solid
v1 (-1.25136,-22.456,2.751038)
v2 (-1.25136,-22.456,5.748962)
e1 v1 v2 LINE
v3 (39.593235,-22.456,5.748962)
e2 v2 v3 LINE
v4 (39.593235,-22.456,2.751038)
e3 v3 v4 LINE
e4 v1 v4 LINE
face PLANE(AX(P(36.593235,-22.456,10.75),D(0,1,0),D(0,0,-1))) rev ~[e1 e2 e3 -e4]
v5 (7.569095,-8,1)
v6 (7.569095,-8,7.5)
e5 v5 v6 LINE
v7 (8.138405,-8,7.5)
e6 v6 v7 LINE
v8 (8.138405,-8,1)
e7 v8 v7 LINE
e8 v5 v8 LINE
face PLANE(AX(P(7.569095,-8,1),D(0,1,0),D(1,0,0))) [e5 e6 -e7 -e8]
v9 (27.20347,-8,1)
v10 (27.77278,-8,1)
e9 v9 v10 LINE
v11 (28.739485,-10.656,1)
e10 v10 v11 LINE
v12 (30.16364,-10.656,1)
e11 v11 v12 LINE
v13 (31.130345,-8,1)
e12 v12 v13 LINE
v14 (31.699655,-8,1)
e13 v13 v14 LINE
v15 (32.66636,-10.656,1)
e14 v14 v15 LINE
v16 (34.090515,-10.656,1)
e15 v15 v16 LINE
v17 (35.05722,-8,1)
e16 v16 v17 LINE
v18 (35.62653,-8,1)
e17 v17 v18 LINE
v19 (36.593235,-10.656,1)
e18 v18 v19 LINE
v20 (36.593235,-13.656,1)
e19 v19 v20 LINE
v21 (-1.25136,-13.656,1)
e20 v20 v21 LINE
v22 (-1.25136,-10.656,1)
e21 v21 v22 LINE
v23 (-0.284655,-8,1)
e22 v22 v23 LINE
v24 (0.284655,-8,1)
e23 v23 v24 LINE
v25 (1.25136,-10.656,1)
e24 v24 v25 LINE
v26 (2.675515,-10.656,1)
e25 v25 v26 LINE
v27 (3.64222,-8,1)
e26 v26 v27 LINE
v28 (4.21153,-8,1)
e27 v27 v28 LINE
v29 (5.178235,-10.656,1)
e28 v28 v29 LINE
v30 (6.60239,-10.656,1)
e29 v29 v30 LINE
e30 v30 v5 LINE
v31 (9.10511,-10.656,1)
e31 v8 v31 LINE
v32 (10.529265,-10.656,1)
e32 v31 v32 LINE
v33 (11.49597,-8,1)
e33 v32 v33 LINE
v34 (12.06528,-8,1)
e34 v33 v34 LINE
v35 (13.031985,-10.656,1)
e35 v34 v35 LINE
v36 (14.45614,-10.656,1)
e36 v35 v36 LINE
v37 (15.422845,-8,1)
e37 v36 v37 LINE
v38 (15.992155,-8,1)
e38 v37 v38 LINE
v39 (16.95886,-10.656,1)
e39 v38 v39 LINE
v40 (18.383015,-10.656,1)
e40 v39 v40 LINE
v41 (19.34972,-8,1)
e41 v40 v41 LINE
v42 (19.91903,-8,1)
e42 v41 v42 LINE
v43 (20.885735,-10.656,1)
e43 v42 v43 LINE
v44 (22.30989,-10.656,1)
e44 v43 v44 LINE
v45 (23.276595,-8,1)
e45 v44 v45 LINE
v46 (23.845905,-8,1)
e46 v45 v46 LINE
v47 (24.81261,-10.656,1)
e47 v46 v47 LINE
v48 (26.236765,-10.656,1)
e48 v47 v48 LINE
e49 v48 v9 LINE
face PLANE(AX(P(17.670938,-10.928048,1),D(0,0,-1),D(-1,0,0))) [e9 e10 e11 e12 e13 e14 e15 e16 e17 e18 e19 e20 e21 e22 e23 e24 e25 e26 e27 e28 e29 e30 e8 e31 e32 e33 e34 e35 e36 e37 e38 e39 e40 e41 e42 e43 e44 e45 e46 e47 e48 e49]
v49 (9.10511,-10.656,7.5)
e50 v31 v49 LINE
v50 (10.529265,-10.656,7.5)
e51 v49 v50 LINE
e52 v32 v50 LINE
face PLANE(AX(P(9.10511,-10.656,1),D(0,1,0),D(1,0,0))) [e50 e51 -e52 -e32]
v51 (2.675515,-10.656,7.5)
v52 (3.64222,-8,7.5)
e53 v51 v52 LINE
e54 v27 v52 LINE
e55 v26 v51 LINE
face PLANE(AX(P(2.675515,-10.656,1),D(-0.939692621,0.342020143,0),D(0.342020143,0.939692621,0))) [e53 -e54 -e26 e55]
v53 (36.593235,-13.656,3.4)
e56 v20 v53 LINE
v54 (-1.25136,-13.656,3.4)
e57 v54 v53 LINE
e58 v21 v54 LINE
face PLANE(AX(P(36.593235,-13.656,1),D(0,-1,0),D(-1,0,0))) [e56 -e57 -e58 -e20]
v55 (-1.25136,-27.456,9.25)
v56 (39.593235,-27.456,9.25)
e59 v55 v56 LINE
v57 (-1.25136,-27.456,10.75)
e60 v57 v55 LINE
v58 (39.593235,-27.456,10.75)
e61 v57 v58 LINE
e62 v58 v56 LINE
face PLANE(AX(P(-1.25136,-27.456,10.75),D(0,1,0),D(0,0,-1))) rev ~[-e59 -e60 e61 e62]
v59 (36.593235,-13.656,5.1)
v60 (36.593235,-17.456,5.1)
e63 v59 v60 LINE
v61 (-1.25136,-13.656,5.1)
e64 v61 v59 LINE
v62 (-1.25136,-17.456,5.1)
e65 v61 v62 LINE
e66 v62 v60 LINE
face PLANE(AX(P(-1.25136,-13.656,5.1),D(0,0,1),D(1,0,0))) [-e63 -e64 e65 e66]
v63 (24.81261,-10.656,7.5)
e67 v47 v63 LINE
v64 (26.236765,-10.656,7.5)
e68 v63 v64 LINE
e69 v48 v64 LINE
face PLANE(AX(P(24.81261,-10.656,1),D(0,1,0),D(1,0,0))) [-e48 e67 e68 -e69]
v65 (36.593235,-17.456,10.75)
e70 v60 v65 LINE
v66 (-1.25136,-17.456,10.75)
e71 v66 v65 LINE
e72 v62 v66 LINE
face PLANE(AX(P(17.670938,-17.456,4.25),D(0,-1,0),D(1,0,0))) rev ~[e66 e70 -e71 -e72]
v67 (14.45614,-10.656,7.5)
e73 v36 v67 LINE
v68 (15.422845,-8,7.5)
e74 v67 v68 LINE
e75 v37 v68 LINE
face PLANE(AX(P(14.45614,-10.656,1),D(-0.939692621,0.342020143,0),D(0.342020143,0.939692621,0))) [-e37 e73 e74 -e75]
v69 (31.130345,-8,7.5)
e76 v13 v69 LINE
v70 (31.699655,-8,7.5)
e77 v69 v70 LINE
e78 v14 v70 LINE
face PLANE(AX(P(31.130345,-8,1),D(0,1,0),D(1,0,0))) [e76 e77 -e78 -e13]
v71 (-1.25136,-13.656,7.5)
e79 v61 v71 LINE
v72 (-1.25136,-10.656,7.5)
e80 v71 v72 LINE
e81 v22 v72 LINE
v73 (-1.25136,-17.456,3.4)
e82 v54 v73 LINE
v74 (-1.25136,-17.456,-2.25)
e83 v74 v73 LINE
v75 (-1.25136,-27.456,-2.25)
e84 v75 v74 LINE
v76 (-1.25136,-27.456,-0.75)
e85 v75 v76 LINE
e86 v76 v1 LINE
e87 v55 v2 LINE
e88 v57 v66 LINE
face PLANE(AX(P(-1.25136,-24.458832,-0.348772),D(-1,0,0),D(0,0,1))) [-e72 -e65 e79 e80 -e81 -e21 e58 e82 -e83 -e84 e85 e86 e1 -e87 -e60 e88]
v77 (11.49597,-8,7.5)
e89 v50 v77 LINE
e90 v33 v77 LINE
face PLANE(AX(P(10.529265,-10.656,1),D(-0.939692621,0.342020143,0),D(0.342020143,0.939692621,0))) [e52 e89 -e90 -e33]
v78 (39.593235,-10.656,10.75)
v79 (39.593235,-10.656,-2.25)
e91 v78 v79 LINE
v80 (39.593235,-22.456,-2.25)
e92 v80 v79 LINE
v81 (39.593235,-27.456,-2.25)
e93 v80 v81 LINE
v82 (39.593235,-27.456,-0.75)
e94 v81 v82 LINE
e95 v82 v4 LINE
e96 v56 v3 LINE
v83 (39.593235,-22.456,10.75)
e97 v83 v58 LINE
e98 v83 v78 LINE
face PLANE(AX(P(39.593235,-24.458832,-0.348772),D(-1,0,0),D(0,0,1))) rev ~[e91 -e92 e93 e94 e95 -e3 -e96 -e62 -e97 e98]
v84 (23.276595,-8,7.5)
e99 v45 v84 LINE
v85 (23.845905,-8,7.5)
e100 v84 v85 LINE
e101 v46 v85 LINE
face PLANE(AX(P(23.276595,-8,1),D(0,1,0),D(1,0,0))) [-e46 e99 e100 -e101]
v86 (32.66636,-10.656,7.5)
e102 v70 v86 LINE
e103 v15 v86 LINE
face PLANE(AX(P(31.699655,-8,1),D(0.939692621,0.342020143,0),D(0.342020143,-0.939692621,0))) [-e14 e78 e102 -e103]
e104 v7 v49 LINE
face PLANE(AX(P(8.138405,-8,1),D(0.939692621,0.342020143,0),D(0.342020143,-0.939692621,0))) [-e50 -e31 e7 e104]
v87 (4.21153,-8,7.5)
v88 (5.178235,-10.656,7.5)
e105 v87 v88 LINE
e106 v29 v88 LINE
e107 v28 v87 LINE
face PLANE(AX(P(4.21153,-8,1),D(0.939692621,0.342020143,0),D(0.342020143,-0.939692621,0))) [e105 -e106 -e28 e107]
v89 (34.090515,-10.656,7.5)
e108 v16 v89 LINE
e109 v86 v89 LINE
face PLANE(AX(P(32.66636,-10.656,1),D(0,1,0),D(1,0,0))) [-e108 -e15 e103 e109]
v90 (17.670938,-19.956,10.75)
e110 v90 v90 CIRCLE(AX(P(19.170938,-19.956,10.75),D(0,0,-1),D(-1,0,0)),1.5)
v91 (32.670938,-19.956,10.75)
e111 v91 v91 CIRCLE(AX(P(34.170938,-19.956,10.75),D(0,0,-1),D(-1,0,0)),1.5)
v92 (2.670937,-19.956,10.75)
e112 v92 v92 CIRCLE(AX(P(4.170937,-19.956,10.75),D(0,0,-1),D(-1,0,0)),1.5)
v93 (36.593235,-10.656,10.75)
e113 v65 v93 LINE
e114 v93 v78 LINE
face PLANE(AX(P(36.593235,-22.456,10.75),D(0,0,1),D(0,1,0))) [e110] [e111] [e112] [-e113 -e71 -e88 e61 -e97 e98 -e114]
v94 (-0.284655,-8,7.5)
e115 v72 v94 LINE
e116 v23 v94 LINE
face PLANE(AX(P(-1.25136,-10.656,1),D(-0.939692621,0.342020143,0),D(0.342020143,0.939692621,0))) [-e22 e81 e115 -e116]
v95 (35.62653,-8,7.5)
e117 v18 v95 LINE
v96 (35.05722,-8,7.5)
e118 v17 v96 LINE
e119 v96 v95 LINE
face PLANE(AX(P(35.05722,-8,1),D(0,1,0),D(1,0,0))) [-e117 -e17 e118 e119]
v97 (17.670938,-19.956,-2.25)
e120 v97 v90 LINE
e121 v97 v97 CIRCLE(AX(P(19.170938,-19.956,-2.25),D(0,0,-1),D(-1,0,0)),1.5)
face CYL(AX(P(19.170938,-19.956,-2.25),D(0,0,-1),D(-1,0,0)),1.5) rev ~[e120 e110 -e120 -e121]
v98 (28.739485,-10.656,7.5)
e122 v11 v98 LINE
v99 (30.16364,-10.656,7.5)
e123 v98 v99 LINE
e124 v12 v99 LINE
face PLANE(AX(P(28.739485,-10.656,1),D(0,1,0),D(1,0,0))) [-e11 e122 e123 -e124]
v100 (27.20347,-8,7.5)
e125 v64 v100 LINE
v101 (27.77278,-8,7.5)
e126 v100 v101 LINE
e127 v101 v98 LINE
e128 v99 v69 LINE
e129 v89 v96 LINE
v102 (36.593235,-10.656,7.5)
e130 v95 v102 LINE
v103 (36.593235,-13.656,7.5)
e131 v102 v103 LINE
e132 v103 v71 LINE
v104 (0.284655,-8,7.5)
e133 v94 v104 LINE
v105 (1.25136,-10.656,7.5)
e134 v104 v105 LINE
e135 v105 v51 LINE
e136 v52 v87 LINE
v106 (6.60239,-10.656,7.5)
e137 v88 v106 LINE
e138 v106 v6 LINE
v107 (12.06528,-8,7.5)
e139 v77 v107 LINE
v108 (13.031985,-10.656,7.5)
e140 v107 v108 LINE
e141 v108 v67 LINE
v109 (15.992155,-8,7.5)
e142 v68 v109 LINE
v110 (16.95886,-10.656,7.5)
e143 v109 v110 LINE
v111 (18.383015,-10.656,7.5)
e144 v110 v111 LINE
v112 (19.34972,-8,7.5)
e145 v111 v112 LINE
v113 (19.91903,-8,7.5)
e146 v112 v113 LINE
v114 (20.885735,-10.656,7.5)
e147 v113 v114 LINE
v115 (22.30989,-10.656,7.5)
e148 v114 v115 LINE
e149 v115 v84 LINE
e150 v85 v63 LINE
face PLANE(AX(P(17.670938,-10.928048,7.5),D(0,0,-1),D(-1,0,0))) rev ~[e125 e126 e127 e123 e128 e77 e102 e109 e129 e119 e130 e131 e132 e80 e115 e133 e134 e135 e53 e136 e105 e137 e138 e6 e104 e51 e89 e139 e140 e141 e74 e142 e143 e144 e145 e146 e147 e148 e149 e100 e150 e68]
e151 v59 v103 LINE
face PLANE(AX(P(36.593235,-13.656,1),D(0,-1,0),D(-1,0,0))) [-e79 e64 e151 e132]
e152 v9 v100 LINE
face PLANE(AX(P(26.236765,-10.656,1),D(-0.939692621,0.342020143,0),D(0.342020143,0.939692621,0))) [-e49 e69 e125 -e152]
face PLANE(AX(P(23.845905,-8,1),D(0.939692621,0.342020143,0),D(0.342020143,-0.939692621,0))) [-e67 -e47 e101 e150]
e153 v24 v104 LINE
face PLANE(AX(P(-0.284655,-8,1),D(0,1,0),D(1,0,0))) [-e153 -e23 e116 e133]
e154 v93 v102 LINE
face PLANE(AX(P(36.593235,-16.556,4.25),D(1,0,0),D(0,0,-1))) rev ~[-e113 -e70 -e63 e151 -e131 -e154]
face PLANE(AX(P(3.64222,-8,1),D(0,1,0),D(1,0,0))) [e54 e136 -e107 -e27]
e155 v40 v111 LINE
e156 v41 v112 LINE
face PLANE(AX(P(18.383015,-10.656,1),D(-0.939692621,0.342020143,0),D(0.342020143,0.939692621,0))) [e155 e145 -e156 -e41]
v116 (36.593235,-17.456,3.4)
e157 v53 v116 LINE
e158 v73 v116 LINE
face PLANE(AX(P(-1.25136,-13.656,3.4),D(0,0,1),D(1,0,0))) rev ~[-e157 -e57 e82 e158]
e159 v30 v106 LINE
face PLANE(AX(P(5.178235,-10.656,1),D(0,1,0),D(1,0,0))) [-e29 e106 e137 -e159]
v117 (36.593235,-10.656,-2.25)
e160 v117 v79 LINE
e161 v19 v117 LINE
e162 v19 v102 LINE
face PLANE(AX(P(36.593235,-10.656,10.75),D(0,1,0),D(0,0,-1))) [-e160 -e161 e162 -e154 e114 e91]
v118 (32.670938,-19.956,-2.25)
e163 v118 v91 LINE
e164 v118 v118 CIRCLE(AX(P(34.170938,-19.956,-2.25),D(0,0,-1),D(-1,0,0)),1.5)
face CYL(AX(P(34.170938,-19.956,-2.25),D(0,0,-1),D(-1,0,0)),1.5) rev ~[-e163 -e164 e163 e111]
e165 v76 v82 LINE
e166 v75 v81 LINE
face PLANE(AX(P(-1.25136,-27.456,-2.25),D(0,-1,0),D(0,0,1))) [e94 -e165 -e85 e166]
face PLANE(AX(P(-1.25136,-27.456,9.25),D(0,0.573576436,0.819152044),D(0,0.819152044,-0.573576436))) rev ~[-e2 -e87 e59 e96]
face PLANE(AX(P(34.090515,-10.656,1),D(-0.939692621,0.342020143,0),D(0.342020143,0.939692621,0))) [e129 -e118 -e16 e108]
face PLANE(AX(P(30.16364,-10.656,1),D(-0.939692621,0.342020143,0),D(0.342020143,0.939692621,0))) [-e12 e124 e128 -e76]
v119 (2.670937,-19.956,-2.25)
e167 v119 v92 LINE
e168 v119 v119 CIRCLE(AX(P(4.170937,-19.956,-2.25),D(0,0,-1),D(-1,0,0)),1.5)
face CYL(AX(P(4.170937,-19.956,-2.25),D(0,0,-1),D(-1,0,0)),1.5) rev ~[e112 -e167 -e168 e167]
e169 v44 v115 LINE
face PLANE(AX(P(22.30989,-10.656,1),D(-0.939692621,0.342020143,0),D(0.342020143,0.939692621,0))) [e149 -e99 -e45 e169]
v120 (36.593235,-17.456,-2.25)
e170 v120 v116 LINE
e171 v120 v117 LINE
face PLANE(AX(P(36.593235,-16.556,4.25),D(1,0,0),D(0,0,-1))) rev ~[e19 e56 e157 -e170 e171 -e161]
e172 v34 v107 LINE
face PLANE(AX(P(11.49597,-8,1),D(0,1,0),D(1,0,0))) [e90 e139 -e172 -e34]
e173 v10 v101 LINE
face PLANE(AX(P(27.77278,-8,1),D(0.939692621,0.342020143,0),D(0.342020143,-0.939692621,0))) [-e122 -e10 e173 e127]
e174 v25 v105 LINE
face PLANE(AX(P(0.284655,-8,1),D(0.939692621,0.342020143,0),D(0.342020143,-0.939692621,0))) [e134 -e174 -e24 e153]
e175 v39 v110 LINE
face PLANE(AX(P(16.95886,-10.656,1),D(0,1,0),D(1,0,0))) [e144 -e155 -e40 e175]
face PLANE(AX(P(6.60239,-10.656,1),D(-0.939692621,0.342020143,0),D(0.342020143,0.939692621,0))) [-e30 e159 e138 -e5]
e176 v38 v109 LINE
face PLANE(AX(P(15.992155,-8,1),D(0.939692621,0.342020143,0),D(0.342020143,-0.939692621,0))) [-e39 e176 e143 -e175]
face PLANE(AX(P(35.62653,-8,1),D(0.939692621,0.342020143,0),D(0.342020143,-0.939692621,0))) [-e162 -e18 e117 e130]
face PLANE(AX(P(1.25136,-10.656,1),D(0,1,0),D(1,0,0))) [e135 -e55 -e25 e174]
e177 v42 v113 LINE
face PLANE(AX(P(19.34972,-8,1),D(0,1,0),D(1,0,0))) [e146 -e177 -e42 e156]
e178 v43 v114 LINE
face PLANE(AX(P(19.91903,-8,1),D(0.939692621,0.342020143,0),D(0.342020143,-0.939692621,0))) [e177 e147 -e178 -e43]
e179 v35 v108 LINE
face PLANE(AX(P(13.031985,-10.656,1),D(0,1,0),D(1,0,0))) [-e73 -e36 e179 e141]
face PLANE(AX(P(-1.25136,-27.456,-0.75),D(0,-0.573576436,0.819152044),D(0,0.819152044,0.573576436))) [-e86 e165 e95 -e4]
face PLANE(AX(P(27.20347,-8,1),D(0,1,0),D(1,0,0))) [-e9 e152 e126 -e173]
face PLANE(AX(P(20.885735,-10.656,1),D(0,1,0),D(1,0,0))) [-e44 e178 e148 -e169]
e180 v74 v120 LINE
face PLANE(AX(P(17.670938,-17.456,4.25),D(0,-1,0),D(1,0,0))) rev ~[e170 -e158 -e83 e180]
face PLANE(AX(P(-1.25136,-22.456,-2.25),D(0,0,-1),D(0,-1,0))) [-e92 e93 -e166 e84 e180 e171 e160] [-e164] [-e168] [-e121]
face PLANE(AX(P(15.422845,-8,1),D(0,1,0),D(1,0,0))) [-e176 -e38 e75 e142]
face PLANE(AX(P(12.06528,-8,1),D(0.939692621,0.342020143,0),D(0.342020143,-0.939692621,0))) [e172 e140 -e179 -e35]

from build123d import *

# Parameters (mm, degrees)
ESQUISSE1_R             = 2.5
BOSS_EXTRU_1_DEPTH      = 1
BOSS_EXTRU_2_DEPTH      = 6.5
ESQUISSE3_R             = 14.137419556
ENL_V_MAT_EXTRU_1_DEPTH = 1
ESQUISSE4_W             = 37.844594902
ESQUISSE4_H             = 1.7
BOSS_EXTRU_3_DEPTH      = 3.8
ESQUISSE5_W             = 37.844594902
ESQUISSE5_H             = 13
BOSS_EXTRU_4_DEPTH      = 5
ESQUISSE6_W             = 13
ESQUISSE6_H             = 11.8
BOSS_EXTRU_5_DEPTH      = 3
BOSS_EXTRU_6_DEPTH      = 40.844595
ESQUISSE8_R             = 1.5
ENL_V_MAT_EXTRU_2_DEPTH = 14


with BuildPart() as part:
    # Esquisse1 → Boss.-Extru.1 (new body)
    with BuildSketch(Plane.XY):
        with BuildLine():
            ThreePointArc((-2.797532396, 7.349311298), (-3.009326841, 7.265157674), (-3.218593728, 7.174901984))
            ThreePointArc((-3.218593728, 7.174901984), (-3.518823735, 7.161602241), (-3.746621491, 7.357620412))
            ThreePointArc((-3.746621491, 7.357620412), (-4.480939546, 8.300763177), (-5.498824516, 8.927382256))
            ThreePointArc((-5.498824516, 8.927382256), (-5.825153893, 8.717958885), (-6.143516706, 8.496612707))
            ThreePointArc((-6.143516706, 8.496612707), (-5.954123878, 7.316412877), (-5.363784935, 6.277066345))
            ThreePointArc((-5.363784935, 6.277066345), (-5.269862186, 5.991595754), (-5.397042596, 5.719308987))
            ThreePointArc((-5.397042596, 5.719308987), (-5.560510951, 5.560510951), (-5.719308987, 5.397042596))
            ThreePointArc((-5.719308987, 5.397042596), (-5.991595754, 5.269862186), (-6.277066345, 5.363784935))
            ThreePointArc((-6.277066345, 5.363784935), (-7.316412877, 5.954123878), (-8.496612707, 6.143516706))
            ThreePointArc((-8.496612707, 6.143516706), (-8.717958885, 5.825153893), (-8.927382256, 5.498824516))
            ThreePointArc((-8.927382256, 5.498824516), (-8.300763177, 4.480939546), (-7.357620412, 3.746621491))
            ThreePointArc((-7.357620412, 3.746621491), (-7.161602241, 3.518823735), (-7.174901984, 3.218593728))
            ThreePointArc((-7.174901984, 3.218593728), (-7.265157674, 3.009326841), (-7.349311298, 2.797532396))
            ThreePointArc((-7.349311298, 2.797532396), (-7.552201634, 2.575833384), (-7.851884749, 2.553361824))
            ThreePointArc((-7.851884749, 2.553361824), (-9.038028671, 2.701023192), (-10.200868635, 2.424356428))
            ThreePointArc((-10.200868635, 2.424356428), (-10.283533665, 2.045522026), (-10.352134785, 1.663890139))
            ThreePointArc((-10.352134785, 1.663890139), (-9.383686529, 0.963283789), (-8.231324879, 0.645787478))
            ThreePointArc((-8.231324879, 0.645787478), (-7.963053276, 0.510342701), (-7.860447586, 0.22787675))
            ThreePointArc((-7.860447586, 0.22787675), (-7.86375, 0), (-7.860447586, -0.22787675))
            ThreePointArc((-7.860447586, -0.22787675), (-7.963053276, -0.510342701), (-8.231324879, -0.645787478))
            ThreePointArc((-8.231324879, -0.645787478), (-9.383686529, -0.963283789), (-10.352134785, -1.663890139))
            ThreePointArc((-10.352134785, -1.663890139), (-10.283533665, -2.045522026), (-10.200868635, -2.424356428))
            ThreePointArc((-10.200868635, -2.424356428), (-9.038028671, -2.701023192), (-7.851884749, -2.553361824))
            ThreePointArc((-7.851884749, -2.553361824), (-7.552201634, -2.575833384), (-7.349311298, -2.797532396))
            ThreePointArc((-7.349311298, -2.797532396), (-7.265157674, -3.009326841), (-7.174901984, -3.218593728))
            ThreePointArc((-7.174901984, -3.218593728), (-7.161602241, -3.518823735), (-7.357620412, -3.746621491))
            ThreePointArc((-7.357620412, -3.746621491), (-8.300763177, -4.480939546), (-8.927382256, -5.498824516))
            ThreePointArc((-8.927382256, -5.498824516), (-8.717958885, -5.825153893), (-8.496612707, -6.143516706))
            ThreePointArc((-8.496612707, -6.143516706), (-7.316412877, -5.954123878), (-6.277066345, -5.363784935))
            ThreePointArc((-6.277066345, -5.363784935), (-5.991595754, -5.269862186), (-5.719308987, -5.397042596))
            ThreePointArc((-5.719308987, -5.397042596), (-5.560510951, -5.560510951), (-5.397042596, -5.719308987))
            ThreePointArc((-5.397042596, -5.719308987), (-5.269862186, -5.991595754), (-5.363784935, -6.277066345))
            ThreePointArc((-5.363784935, -6.277066345), (-5.954123878, -7.316412877), (-6.143516706, -8.496612707))
            ThreePointArc((-6.143516706, -8.496612707), (-5.825153893, -8.717958885), (-5.498824516, -8.927382256))
            ThreePointArc((-5.498824516, -8.927382256), (-4.480939546, -8.300763177), (-3.746621491, -7.357620412))
            ThreePointArc((-3.746621491, -7.357620412), (-3.518823735, -7.161602241), (-3.218593728, -7.174901984))
            ThreePointArc((-3.218593728, -7.174901984), (-3.009326841, -7.265157674), (-2.797532396, -7.349311298))
            ThreePointArc((-2.797532396, -7.349311298), (-2.575833384, -7.552201634), (-2.553361824, -7.851884749))
            ThreePointArc((-2.553361824, -7.851884749), (-2.701023192, -9.038028671), (-2.424356428, -10.200868635))
            ThreePointArc((-2.424356428, -10.200868635), (-2.045522026, -10.283533665), (-1.663890139, -10.352134785))
            ThreePointArc((-1.663890139, -10.352134785), (-0.963283789, -9.383686529), (-0.645787478, -8.231324879))
            ThreePointArc((-0.645787478, -8.231324879), (-0.510342701, -7.963053276), (-0.22787675, -7.860447586))
            ThreePointArc((-0.22787675, -7.860447586), (0, -7.86375), (0.22787675, -7.860447586))
            ThreePointArc((0.22787675, -7.860447586), (0.510342701, -7.963053276), (0.645787478, -8.231324879))
            ThreePointArc((0.645787478, -8.231324879), (0.963283789, -9.383686529), (1.663890139, -10.352134785))
            ThreePointArc((1.663890139, -10.352134785), (2.045522026, -10.283533665), (2.424356428, -10.200868635))
            ThreePointArc((2.424356428, -10.200868635), (2.701023192, -9.038028671), (2.553361824, -7.851884749))
            ThreePointArc((2.553361824, -7.851884749), (2.575833384, -7.552201634), (2.797532396, -7.349311298))
            ThreePointArc((2.797532396, -7.349311298), (3.009326841, -7.265157674), (3.218593728, -7.174901984))
            ThreePointArc((3.218593728, -7.174901984), (3.518823735, -7.161602241), (3.746621491, -7.357620412))
            ThreePointArc((3.746621491, -7.357620412), (4.480939546, -8.300763177), (5.498824516, -8.927382256))
            ThreePointArc((5.498824516, -8.927382256), (5.825153893, -8.717958885), (6.143516706, -8.496612707))
            ThreePointArc((6.143516706, -8.496612707), (5.954123878, -7.316412877), (5.363784935, -6.277066345))
            ThreePointArc((5.363784935, -6.277066345), (5.269862186, -5.991595754), (5.397042596, -5.719308987))
            ThreePointArc((5.397042596, -5.719308987), (5.560510951, -5.560510951), (5.719308987, -5.397042596))
            ThreePointArc((5.719308987, -5.397042596), (5.991595754, -5.269862186), (6.277066345, -5.363784935))
            ThreePointArc((6.277066345, -5.363784935), (7.316412877, -5.954123878), (8.496612707, -6.143516706))
            ThreePointArc((8.496612707, -6.143516706), (8.717958885, -5.825153893), (8.927382256, -5.498824516))
            ThreePointArc((8.927382256, -5.498824516), (8.300763177, -4.480939546), (7.357620412, -3.746621491))
            ThreePointArc((7.357620412, -3.746621491), (7.161602241, -3.518823735), (7.174901984, -3.218593728))
            ThreePointArc((7.174901984, -3.218593728), (7.265157674, -3.009326841), (7.349311298, -2.797532396))
            ThreePointArc((7.349311298, -2.797532396), (7.552201634, -2.575833384), (7.851884749, -2.553361824))
            ThreePointArc((7.851884749, -2.553361824), (9.038028671, -2.701023192), (10.200868635, -2.424356428))
            ThreePointArc((10.200868635, -2.424356428), (10.283533665, -2.045522026), (10.352134785, -1.663890139))
            ThreePointArc((10.352134785, -1.663890139), (9.383686529, -0.963283789), (8.231324879, -0.645787478))
            ThreePointArc((8.231324879, -0.645787478), (7.963053276, -0.510342701), (7.860447586, -0.22787675))
            ThreePointArc((7.860447586, -0.22787675), (7.86375, 0), (7.860447586, 0.22787675))
            ThreePointArc((7.860447586, 0.22787675), (7.963053276, 0.510342701), (8.231324879, 0.645787478))
            ThreePointArc((8.231324879, 0.645787478), (9.383686529, 0.963283789), (10.352134785, 1.663890139))
            ThreePointArc((10.352134785, 1.663890139), (10.283533665, 2.045522026), (10.200868635, 2.424356428))
            ThreePointArc((10.200868635, 2.424356428), (9.038028671, 2.701023192), (7.851884749, 2.553361824))
            ThreePointArc((7.851884749, 2.553361824), (7.552201634, 2.575833384), (7.349311298, 2.797532396))
            ThreePointArc((7.349311298, 2.797532396), (7.265157674, 3.009326841), (7.174901984, 3.218593728))
            ThreePointArc((7.174901984, 3.218593728), (7.161602241, 3.518823735), (7.357620412, 3.746621491))
            ThreePointArc((7.357620412, 3.746621491), (8.300763177, 4.480939546), (8.927382256, 5.498824516))
            ThreePointArc((8.927382256, 5.498824516), (8.717958885, 5.825153893), (8.496612707, 6.143516706))
            ThreePointArc((8.496612707, 6.143516706), (7.316412877, 5.954123878), (6.277066345, 5.363784935))
            ThreePointArc((6.277066345, 5.363784935), (5.991595754, 5.269862186), (5.719308987, 5.397042596))
            ThreePointArc((5.719308987, 5.397042596), (5.560510951, 5.560510951), (5.397042596, 5.719308987))
            ThreePointArc((5.397042596, 5.719308987), (5.269862186, 5.991595754), (5.363784935, 6.277066345))
            ThreePointArc((5.363784935, 6.277066345), (5.954123878, 7.316412877), (6.143516706, 8.496612707))
            ThreePointArc((6.143516706, 8.496612707), (5.825153893, 8.717958885), (5.498824516, 8.927382256))
            ThreePointArc((5.498824516, 8.927382256), (4.480939546, 8.300763177), (3.746621491, 7.357620412))
            ThreePointArc((3.746621491, 7.357620412), (3.518823735, 7.161602241), (3.218593728, 7.174901984))
            ThreePointArc((3.218593728, 7.174901984), (3.009326841, 7.265157674), (2.797532396, 7.349311298))
            ThreePointArc((2.797532396, 7.349311298), (2.575833384, 7.552201634), (2.553361824, 7.851884749))
            ThreePointArc((2.553361824, 7.851884749), (2.701023192, 9.038028671), (2.424356428, 10.200868635))
            ThreePointArc((2.424356428, 10.200868635), (2.045522026, 10.283533665), (1.663890139, 10.352134785))
            ThreePointArc((1.663890139, 10.352134785), (0.963283789, 9.383686529), (0.645787478, 8.231324879))
            ThreePointArc((0.645787478, 8.231324879), (0.510342701, 7.963053276), (0.22787675, 7.860447586))
            ThreePointArc((0.22787675, 7.860447586), (0, 7.86375), (-0.22787675, 7.860447586))
            ThreePointArc((-0.22787675, 7.860447586), (-0.510342701, 7.963053276), (-0.645787478, 8.231324879))
            ThreePointArc((-0.645787478, 8.231324879), (-0.963283789, 9.383686529), (-1.663890139, 10.352134785))
            ThreePointArc((-1.663890139, 10.352134785), (-2.045522026, 10.283533665), (-2.424356428, 10.200868635))
            ThreePointArc((-2.424356428, 10.200868635), (-2.701023192, 9.038028671), (-2.553361824, 7.851884749))
            ThreePointArc((-2.553361824, 7.851884749), (-2.575833384, 7.552201634), (-2.797532396, 7.349311298))
        make_face()
        Circle(ESQUISSE1_R, mode=Mode.SUBTRACT)
    extrude(amount=BOSS_EXTRU_1_DEPTH)

    # Esquisse2 → Boss.-Extru.2 (add)
    with BuildSketch(Plane.XY.offset(1)):
        Polygon((0.284655009, -8), (1.251359951, -10.656), (2.675515049, -10.656), (3.642219991, -8), (4.211530009, -8), (5.178234951, -10.656), (6.602390049, -10.656), (7.569094991, -8), (8.138405009, -8), (9.105109951, -10.656), (10.529265049, -10.656), (11.495969991, -8), (12.065280009, -8), (13.031984951, -10.656), (14.456140049, -10.656), (15.422844991, -8), (15.992155009, -8), (16.958859951, -10.656), (18.383015049, -10.656), (19.349719991, -8), (19.919030009, -8), (20.885734951, -10.656), (22.309890049, -10.656), (23.276594991, -8), (23.845905009, -8), (24.812609951, -10.656), (26.236765049, -10.656), (27.203469991, -8), (27.772780009, -8), (28.739484951, -10.656), (30.163640049, -10.656), (31.130344991, -8), (31.699655009, -8), (32.666359951, -10.656), (34.090515049, -10.656), (35.057219991, -8), (35.626530009, -8), (36.593234951, -10.656), (36.593234951, -13.656), (-1.251359951, -13.656), (-1.251359951, -10.656), (-0.284655009, -8), align=None)
    extrude(amount=BOSS_EXTRU_2_DEPTH)

    # Esquisse3 → Enlèv. mat.-Extru.1 (cut)
    with BuildSketch(Plane(origin=(0, 0, 0), x_dir=(-1, 0, 0), z_dir=(0, 0, -1))):
        Circle(ESQUISSE3_R)
    extrude(amount=-ENL_V_MAT_EXTRU_1_DEPTH, mode=Mode.SUBTRACT)

    # Esquisse4 → Boss.-Extru.3 (add)
    with BuildSketch(Plane.XZ.offset(13.656)):
        with Locations((17.6709375, 4.25)):
            Rectangle(ESQUISSE4_W, ESQUISSE4_H)
    extrude(amount=BOSS_EXTRU_3_DEPTH)

    # Esquisse5 → Boss.-Extru.4 (add)
    with BuildSketch(Plane.XZ.offset(17.456)):
        with Locations((17.6709375, 4.25)):
            Rectangle(ESQUISSE5_W, ESQUISSE5_H)
    extrude(amount=BOSS_EXTRU_4_DEPTH)

    # Esquisse6 → Boss.-Extru.5 (add)
    with BuildSketch(Plane(origin=(36.593234951, 0, 0), x_dir=(0, 0, -1), z_dir=(1, 0, 0))):
        with Locations((-4.25, -16.556)):
            Rectangle(ESQUISSE6_W, ESQUISSE6_H)
    extrude(amount=BOSS_EXTRU_5_DEPTH)

    # Esquisse7 → Boss.-Extru.6 (add, through all)
    with BuildSketch(Plane.ZY.offset(1.251359951)):
        Polygon((-2.25, -22.456), (-2.25, -27.456), (-0.75, -27.456), (2.751037691, -22.456), align=None)
        Polygon((9.25, -27.456), (5.748962309, -22.456), (10.75, -22.456), (10.75, -27.456), align=None)
    extrude(amount=-BOSS_EXTRU_6_DEPTH)

    # Esquisse8 → Enlèv. mat.-Extru.2 (cut, through all)
    with BuildSketch(Plane(origin=(0, 0, -2.25), x_dir=(-1, 0, 0), z_dir=(0, 0, -1))):
        with Locations((-34.1709375, -19.956)):
            Circle(ESQUISSE8_R)
        with Locations((-4.1709375, -19.956)):
            Circle(ESQUISSE8_R)
        with Locations((-19.1709375, -19.956)):
            Circle(ESQUISSE8_R)
    extrude(amount=-ENL_V_MAT_EXTRU_2_DEPTH, mode=Mode.SUBTRACT)


solid = part.part
